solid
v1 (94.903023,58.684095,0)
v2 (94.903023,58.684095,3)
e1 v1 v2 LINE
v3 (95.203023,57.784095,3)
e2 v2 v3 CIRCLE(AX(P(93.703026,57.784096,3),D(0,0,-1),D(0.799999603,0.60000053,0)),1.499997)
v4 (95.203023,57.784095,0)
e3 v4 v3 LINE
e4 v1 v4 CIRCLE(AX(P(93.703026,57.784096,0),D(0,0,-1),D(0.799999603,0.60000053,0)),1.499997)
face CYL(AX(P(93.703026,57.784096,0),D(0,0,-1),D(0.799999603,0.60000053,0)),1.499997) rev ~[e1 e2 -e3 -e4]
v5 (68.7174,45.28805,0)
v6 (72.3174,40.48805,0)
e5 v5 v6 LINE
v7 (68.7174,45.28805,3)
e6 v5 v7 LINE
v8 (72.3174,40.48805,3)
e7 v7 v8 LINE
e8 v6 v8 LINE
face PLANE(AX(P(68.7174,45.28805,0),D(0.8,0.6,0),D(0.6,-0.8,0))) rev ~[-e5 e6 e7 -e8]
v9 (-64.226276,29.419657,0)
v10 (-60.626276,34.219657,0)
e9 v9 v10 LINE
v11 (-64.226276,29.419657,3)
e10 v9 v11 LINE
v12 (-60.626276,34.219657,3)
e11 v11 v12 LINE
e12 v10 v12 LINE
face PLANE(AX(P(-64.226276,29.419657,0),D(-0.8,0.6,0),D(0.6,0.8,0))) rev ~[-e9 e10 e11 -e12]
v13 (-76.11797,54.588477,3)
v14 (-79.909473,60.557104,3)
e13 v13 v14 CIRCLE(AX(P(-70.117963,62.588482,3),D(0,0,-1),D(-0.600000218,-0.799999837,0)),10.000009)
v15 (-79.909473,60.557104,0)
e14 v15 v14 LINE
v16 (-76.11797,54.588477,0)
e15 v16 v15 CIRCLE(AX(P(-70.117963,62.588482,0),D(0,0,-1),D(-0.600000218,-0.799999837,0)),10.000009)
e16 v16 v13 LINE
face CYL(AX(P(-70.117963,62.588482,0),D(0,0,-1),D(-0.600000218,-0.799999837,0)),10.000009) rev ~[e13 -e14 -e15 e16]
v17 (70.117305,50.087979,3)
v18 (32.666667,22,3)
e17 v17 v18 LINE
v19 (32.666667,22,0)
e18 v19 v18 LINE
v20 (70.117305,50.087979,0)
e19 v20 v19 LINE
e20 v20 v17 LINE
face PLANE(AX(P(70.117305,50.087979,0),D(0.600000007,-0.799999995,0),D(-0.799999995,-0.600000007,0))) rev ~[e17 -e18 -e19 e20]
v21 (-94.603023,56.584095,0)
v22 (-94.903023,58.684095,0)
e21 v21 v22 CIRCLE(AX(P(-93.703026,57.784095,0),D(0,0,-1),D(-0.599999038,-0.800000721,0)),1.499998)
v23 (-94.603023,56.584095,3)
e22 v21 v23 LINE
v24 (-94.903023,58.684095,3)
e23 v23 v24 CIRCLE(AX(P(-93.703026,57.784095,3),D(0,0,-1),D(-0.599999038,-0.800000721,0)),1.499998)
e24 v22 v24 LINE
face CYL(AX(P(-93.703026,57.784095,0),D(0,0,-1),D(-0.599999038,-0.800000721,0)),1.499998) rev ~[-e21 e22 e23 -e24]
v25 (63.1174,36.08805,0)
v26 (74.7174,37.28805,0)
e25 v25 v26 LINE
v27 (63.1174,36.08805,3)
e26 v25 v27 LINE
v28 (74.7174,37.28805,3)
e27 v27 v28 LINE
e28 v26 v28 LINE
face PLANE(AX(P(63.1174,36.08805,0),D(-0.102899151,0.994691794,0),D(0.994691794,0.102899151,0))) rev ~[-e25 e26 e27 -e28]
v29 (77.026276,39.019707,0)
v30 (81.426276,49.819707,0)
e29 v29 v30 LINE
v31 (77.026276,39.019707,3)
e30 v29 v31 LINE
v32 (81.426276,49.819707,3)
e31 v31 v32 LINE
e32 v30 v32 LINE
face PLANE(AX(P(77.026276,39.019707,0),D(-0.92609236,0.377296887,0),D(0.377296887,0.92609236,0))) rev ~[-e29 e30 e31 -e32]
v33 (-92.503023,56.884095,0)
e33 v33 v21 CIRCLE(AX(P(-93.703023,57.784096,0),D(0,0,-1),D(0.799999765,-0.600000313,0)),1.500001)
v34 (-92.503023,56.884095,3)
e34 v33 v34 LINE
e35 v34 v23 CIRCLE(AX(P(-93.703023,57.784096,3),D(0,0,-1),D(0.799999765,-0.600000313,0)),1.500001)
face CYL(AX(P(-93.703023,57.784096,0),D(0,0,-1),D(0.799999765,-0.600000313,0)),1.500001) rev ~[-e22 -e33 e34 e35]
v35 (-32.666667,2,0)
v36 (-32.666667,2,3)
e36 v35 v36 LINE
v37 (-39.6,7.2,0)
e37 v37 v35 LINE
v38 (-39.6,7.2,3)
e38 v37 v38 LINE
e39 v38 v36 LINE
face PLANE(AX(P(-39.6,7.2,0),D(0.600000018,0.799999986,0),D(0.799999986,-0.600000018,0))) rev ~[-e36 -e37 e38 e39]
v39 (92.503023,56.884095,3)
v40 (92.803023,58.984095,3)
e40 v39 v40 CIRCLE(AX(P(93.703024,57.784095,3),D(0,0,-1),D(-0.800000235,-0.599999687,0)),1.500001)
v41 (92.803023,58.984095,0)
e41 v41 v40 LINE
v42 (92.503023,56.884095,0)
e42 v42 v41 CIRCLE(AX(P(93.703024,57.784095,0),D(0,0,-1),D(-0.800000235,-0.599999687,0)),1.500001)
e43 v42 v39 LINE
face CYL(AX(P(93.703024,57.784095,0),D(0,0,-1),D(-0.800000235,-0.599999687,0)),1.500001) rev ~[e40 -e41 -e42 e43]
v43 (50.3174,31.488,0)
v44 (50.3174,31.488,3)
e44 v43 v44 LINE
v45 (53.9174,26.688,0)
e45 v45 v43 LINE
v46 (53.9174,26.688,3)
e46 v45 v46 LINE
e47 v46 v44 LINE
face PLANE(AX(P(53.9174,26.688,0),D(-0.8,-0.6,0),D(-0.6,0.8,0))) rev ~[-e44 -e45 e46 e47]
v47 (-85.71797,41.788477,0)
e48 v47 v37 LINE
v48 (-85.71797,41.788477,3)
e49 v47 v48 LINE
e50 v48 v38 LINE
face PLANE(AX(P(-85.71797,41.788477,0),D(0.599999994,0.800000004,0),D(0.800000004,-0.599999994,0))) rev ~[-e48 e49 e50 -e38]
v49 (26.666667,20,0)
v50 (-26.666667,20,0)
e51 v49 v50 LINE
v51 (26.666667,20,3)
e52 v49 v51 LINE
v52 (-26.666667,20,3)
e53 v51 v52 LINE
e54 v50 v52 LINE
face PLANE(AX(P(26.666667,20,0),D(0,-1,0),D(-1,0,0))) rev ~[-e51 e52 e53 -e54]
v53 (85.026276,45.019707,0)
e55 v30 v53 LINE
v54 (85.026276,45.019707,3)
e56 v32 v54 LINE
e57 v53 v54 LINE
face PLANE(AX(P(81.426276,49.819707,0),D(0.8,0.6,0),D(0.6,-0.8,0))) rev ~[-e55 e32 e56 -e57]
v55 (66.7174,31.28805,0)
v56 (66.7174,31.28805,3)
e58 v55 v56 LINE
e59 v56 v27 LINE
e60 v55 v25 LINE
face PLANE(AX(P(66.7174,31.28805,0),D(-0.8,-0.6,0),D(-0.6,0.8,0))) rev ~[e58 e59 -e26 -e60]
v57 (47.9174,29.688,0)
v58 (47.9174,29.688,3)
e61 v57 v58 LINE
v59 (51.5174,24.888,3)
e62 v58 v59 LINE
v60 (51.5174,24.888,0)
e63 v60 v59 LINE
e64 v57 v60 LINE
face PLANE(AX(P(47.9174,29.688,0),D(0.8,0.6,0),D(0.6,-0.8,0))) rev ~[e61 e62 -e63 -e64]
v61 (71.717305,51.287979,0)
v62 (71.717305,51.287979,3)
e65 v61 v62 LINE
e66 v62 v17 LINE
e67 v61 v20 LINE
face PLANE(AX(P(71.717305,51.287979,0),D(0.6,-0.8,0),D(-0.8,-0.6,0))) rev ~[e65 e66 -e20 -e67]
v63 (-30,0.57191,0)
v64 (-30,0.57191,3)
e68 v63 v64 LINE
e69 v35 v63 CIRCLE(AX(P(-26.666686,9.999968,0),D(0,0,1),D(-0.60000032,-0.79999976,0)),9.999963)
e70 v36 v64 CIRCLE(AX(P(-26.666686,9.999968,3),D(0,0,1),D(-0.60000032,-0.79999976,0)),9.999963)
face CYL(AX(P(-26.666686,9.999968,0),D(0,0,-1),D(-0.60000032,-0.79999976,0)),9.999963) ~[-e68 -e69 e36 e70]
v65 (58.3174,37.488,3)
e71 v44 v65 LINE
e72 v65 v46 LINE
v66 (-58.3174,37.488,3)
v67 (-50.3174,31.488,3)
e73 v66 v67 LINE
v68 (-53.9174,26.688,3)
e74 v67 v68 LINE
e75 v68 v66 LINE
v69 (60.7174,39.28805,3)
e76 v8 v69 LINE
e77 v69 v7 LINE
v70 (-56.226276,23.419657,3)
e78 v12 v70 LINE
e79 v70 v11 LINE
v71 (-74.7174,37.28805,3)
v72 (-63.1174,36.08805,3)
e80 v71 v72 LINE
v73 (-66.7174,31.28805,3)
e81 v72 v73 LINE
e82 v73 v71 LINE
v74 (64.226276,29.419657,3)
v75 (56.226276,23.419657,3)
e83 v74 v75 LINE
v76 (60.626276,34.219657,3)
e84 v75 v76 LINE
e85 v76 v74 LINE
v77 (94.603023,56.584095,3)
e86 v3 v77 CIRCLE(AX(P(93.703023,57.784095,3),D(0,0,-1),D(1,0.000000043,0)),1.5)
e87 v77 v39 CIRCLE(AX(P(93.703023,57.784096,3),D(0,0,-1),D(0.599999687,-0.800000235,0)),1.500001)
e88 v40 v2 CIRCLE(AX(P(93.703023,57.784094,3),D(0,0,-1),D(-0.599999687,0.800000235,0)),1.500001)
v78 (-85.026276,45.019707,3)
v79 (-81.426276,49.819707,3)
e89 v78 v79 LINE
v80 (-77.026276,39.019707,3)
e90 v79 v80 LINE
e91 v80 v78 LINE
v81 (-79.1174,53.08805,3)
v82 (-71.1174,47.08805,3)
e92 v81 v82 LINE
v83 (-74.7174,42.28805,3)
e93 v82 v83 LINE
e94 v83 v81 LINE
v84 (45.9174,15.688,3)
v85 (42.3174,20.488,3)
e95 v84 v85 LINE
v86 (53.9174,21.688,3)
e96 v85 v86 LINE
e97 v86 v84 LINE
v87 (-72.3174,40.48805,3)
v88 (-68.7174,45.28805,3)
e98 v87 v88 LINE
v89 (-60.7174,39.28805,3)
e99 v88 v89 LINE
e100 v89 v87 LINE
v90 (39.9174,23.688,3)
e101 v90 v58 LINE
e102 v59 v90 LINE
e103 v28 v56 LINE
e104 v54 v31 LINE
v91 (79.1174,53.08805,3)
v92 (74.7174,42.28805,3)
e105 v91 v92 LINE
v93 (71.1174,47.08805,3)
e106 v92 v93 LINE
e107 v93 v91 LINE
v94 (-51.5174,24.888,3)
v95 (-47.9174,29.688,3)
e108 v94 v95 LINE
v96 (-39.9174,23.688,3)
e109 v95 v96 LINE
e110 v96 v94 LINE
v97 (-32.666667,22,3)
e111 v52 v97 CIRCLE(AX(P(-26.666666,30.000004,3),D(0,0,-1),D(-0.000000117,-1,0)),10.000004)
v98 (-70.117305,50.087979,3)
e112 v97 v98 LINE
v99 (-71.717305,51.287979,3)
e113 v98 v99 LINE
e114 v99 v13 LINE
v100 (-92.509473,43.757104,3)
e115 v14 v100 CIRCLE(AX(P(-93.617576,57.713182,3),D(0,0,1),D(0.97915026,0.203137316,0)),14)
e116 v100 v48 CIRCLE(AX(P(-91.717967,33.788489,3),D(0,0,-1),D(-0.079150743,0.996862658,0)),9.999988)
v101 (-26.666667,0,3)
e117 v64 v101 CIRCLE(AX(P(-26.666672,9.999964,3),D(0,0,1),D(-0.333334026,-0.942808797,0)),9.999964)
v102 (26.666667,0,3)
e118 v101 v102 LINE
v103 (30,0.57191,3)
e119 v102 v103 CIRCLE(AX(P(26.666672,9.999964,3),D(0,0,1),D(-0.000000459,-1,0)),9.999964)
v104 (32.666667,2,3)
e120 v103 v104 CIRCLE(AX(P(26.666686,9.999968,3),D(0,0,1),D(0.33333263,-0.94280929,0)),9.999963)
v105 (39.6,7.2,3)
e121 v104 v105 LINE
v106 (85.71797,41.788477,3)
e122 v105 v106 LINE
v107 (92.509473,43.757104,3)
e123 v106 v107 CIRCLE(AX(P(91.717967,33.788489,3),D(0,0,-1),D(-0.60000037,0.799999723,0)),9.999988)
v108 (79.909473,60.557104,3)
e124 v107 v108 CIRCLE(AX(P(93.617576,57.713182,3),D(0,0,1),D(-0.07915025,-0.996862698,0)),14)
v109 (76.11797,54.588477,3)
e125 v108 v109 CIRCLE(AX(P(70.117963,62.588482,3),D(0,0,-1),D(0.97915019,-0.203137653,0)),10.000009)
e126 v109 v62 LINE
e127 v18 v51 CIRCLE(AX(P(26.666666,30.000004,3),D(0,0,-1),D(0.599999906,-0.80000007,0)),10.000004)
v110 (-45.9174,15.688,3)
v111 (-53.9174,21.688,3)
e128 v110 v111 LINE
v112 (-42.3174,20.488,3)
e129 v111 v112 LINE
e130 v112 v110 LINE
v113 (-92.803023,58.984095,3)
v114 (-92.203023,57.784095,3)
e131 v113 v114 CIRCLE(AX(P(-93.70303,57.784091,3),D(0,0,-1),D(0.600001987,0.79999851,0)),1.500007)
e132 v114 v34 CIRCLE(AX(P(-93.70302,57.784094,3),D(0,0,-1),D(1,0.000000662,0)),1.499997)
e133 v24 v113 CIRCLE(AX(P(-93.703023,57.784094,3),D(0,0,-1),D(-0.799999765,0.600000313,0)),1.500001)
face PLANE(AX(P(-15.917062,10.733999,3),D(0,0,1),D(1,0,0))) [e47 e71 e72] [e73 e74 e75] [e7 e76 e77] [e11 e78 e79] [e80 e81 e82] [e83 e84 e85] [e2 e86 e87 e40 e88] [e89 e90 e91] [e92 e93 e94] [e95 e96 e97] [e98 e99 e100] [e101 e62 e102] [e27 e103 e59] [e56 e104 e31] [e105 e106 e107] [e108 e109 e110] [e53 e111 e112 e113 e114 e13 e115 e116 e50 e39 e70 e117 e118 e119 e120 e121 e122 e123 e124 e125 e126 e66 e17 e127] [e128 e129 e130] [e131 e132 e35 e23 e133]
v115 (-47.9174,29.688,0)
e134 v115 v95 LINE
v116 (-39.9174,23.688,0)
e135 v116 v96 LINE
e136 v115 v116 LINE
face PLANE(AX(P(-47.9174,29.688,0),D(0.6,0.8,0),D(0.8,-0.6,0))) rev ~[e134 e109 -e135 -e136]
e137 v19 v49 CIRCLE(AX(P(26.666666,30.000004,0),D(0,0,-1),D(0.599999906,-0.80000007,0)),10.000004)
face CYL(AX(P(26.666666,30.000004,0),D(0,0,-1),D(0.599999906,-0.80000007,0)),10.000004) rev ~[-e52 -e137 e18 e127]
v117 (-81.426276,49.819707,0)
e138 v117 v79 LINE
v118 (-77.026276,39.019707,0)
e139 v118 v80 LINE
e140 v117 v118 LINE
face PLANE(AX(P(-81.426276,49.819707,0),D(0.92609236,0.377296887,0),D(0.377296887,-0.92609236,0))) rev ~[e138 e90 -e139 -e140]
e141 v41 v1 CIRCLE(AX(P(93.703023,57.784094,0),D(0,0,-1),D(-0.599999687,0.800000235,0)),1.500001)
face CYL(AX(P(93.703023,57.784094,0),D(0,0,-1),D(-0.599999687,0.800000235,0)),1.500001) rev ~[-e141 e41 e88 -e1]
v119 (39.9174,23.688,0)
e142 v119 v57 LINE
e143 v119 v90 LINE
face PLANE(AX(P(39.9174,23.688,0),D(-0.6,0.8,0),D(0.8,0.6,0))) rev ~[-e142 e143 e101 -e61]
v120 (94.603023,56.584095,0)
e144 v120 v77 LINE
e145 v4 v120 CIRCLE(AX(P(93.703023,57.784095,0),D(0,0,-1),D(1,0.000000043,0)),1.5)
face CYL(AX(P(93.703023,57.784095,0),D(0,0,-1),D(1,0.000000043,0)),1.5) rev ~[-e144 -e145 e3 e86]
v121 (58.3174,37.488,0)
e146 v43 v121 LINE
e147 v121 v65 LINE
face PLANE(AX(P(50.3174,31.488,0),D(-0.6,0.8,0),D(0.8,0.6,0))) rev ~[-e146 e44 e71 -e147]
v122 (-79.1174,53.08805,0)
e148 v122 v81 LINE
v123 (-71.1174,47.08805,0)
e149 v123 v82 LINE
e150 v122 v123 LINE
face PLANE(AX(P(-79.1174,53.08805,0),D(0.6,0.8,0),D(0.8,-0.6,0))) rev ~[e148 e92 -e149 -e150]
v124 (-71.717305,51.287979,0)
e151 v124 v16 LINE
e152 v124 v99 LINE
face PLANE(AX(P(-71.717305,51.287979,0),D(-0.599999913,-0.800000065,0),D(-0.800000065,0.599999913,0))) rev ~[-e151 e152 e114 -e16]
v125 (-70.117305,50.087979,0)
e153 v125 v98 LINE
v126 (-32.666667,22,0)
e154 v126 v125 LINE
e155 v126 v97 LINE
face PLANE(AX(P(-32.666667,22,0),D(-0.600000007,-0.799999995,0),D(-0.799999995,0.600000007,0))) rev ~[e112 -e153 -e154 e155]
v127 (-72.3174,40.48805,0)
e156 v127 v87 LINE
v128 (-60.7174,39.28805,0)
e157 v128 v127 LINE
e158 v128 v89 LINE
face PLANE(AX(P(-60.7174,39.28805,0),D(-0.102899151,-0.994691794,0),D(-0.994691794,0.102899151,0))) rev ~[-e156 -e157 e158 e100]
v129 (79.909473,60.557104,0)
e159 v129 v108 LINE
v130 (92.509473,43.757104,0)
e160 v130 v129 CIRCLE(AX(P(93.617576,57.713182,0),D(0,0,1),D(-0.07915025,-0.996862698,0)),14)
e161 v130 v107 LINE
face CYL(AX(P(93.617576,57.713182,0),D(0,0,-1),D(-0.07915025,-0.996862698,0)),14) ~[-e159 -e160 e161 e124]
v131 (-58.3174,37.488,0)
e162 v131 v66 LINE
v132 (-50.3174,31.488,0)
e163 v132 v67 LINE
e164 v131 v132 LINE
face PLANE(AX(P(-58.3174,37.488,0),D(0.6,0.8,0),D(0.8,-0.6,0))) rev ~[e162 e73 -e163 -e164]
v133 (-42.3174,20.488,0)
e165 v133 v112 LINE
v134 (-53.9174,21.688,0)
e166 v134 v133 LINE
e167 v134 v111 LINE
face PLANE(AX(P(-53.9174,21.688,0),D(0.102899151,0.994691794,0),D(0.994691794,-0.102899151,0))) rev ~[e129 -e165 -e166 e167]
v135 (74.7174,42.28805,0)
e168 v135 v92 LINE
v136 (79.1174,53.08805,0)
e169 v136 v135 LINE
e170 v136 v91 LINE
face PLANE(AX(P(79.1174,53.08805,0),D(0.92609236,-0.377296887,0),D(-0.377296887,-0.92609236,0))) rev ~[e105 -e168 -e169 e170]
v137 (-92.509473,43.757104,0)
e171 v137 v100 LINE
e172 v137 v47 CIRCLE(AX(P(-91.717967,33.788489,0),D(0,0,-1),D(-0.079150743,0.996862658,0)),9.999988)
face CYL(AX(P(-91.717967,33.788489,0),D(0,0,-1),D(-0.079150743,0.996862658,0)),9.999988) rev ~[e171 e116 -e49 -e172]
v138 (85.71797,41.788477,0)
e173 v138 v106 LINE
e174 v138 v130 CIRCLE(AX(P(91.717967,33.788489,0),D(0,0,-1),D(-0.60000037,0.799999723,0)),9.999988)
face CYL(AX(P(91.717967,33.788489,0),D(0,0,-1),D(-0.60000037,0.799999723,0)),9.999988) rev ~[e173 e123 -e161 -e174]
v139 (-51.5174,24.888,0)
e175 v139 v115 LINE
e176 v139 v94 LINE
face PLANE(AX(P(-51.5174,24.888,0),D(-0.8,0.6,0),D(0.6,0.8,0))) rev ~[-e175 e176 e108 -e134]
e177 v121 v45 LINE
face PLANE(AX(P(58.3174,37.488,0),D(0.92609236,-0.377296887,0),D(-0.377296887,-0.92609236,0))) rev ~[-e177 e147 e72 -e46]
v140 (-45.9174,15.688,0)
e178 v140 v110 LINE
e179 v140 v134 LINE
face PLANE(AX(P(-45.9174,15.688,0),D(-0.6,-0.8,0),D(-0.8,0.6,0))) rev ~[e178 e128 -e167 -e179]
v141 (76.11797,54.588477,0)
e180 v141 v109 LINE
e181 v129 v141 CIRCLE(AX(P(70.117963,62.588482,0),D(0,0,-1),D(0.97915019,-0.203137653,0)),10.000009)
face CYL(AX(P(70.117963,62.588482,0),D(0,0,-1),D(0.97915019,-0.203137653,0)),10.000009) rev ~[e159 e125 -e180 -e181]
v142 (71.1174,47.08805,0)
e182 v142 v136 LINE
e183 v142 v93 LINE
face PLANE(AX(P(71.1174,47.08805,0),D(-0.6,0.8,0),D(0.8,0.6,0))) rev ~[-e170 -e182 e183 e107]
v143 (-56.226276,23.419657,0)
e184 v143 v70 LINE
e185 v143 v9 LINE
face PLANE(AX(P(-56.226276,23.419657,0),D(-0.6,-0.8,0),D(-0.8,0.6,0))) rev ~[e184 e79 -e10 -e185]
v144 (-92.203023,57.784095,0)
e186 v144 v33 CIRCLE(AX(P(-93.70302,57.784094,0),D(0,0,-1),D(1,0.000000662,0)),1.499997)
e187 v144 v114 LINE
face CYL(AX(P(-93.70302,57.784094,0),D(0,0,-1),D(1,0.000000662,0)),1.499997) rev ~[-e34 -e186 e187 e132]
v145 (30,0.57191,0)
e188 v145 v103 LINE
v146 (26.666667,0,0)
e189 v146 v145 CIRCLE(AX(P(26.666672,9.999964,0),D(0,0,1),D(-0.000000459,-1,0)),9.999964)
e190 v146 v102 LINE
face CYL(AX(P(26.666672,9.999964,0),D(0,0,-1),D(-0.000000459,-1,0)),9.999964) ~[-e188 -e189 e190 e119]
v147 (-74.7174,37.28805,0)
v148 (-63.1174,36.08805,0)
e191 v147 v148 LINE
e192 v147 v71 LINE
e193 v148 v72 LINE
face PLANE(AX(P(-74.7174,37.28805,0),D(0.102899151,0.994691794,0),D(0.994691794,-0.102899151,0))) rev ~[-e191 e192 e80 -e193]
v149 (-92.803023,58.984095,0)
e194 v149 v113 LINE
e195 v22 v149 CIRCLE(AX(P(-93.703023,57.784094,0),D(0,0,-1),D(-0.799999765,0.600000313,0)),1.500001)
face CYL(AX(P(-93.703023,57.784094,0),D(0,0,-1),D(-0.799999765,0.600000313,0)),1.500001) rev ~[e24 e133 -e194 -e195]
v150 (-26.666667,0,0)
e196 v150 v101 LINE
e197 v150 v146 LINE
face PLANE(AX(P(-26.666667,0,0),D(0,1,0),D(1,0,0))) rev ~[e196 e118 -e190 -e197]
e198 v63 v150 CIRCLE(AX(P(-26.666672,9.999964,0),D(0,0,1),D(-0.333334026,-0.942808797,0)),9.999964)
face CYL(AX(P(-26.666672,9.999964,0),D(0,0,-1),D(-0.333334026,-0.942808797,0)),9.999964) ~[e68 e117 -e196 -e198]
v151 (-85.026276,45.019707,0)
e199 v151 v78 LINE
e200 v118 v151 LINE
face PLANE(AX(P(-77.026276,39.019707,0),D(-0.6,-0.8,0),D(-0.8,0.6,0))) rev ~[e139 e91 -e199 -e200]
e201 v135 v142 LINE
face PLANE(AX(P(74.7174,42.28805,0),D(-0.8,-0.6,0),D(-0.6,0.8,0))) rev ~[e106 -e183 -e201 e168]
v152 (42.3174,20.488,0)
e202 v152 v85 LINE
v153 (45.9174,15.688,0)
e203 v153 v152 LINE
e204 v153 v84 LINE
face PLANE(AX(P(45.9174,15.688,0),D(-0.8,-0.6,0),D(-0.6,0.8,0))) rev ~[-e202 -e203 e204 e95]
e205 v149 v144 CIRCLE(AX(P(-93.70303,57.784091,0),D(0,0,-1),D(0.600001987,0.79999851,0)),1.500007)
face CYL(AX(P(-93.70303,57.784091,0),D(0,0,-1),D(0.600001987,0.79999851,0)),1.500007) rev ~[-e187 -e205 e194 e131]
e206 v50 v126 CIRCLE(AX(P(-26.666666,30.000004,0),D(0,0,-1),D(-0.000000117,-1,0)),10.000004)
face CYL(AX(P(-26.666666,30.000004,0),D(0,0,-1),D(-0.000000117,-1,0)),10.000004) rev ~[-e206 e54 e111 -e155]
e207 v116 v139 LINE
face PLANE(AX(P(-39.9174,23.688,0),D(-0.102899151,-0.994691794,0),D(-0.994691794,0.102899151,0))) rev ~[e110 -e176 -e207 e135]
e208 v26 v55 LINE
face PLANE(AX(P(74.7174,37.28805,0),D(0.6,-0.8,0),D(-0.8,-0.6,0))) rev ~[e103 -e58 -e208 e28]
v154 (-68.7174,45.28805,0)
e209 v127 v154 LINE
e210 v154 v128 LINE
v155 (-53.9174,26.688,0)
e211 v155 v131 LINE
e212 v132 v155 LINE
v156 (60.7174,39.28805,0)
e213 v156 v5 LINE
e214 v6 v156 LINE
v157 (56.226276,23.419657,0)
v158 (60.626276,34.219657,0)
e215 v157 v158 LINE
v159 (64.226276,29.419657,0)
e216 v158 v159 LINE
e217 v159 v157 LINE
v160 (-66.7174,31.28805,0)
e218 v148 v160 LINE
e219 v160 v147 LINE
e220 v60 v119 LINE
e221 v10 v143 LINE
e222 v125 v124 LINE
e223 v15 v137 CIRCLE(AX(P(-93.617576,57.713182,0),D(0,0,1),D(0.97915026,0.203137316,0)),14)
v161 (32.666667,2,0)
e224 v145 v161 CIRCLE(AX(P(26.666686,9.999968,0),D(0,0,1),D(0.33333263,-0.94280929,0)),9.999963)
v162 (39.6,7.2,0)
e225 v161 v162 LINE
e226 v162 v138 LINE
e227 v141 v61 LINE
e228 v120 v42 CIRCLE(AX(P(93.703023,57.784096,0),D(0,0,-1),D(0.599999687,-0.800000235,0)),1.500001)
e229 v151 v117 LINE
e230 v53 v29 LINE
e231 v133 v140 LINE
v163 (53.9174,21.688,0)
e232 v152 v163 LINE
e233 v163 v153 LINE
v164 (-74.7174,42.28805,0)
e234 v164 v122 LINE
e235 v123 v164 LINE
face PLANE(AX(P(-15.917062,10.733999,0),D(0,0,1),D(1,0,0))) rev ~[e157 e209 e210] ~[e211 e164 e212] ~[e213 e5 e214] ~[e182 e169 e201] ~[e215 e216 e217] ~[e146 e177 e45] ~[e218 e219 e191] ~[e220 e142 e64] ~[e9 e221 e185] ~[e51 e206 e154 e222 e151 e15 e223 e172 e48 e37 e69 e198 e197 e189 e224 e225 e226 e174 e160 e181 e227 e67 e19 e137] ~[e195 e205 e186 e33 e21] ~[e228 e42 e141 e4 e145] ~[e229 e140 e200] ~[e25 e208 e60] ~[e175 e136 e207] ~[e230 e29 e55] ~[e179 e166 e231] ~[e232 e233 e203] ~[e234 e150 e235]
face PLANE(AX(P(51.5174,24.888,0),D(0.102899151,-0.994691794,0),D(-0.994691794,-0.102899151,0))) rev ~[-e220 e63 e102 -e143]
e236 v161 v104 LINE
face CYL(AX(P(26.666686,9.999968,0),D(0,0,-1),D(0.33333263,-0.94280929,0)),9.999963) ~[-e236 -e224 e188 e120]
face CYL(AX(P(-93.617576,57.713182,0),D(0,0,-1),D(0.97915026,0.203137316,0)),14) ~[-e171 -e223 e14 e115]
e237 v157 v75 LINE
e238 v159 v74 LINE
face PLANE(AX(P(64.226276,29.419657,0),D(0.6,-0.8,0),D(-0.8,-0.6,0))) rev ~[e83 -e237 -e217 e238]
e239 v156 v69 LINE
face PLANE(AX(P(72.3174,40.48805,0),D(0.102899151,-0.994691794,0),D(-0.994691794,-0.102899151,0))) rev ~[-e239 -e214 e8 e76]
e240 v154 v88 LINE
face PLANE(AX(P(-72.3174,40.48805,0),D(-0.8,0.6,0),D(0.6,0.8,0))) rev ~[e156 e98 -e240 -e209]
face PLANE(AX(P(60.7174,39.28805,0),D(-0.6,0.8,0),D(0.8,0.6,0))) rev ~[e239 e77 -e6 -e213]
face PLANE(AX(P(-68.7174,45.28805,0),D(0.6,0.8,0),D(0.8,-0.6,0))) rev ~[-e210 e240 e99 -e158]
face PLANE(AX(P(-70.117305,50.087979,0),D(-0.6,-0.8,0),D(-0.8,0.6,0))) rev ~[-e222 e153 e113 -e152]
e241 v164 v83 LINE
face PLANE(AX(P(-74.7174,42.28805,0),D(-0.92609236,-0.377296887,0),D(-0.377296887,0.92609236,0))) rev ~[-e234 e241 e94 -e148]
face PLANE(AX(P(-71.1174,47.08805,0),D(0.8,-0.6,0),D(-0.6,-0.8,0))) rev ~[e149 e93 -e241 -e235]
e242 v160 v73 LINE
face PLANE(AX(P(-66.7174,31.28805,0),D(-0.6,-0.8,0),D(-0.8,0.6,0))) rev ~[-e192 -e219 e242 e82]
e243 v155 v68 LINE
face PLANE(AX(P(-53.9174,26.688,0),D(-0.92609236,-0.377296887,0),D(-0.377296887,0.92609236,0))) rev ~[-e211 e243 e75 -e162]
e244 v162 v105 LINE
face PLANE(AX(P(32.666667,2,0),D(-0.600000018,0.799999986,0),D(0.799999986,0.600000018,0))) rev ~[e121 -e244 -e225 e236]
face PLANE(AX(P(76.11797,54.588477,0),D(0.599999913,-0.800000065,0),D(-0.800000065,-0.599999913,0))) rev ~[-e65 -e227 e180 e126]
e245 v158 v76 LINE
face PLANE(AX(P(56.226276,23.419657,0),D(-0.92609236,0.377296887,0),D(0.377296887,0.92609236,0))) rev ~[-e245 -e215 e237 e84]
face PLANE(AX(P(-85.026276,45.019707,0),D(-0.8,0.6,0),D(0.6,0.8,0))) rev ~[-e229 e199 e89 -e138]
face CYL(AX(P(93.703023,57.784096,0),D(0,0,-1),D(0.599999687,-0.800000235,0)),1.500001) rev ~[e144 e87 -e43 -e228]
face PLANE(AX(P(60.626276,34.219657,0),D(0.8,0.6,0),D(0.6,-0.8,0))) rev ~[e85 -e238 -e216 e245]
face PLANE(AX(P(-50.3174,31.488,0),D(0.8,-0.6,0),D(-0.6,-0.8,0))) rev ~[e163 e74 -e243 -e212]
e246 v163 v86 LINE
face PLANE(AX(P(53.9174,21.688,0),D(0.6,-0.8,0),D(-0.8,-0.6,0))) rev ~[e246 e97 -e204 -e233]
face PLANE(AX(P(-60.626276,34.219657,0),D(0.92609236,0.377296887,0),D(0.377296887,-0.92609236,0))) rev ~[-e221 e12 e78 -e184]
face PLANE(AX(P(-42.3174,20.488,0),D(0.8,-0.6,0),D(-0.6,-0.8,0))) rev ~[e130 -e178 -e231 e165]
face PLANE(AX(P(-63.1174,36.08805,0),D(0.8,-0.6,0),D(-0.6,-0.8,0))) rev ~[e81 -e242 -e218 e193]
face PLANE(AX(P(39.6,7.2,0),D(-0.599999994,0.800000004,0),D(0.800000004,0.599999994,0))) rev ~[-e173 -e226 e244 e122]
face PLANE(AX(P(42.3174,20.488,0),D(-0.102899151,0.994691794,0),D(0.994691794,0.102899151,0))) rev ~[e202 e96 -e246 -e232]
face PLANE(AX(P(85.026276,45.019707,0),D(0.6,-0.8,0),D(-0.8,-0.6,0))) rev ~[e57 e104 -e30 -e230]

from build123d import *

# Parameters (mm, degrees)
F1_DEPTH = 3


with BuildPart() as f1:
    # F0 (on Top) → F1 (new body)
    with BuildSketch(Plane.XY):
        with BuildLine():
            Line((0, 20), (-26.666667, 20))
            ThreePointArc((-26.666667, 20), (-29.828944, 20.513167), (-32.666667, 22))
            Line((-32.666667, 22), (-30, 20))
            Line((-30, 20), (-30, 0.57191))
            ThreePointArc((-30, 0.57191), (-28.357686, 0.144014), (-26.666667, 0))
            Line((-26.666667, 0), (0, 0))
            Line((0, 0), (0, 10))
            Line((0, 10), (0, 20))
        make_face()
        with BuildLine():
            Line((26.666667, 20), (0, 20))
            Line((0, 20), (0, 10))
            Line((0, 10), (0, 0))
            Line((0, 0), (26.666667, 0))
            ThreePointArc((26.666667, 0), (28.357686, 0.144014), (30, 0.57191))
            Line((30, 0.57191), (30, 20))
            Line((30, 20), (32.666667, 22))
            ThreePointArc((32.666667, 22), (29.828944, 20.513167), (26.666667, 20))
        make_face()
        with BuildLine():
            Line((-30, 20), (-32.666667, 22))
            Line((-32.666667, 22), (-70.117305, 50.087979))
            Line((-70.117305, 50.087979), (-71.717305, 51.287979))
            Line((-71.717305, 51.287979), (-76.11797, 54.588477))
            ThreePointArc((-76.11797, 54.588477), (-78.558883, 57.226483), (-79.909473, 60.557104))
            ThreePointArc((-79.909473, 60.557104), (-104.817576, 66.113182), (-92.509473, 43.757104))
            ThreePointArc((-92.509473, 43.757104), (-88.933911, 43.393113), (-85.71797, 41.788477))
            Line((-85.71797, 41.788477), (-39.6, 7.2))
            Line((-39.6, 7.2), (-32.666667, 2))
            ThreePointArc((-32.666667, 2), (-31.387645, 1.184538), (-30, 0.57191))
            Line((-30, 0.57191), (-30, 20))
        make_face()
        Polygon((-64.226276, 29.419657), (-60.626276, 34.219657), (-56.226276, 23.419657), align=None, mode=Mode.SUBTRACT)
        Polygon((-74.7174, 37.28805), (-63.1174, 36.08805), (-66.7174, 31.28805), align=None, mode=Mode.SUBTRACT)
        Polygon((-50.3174, 31.488), (-53.9174, 26.688), (-58.3174, 37.488), align=None, mode=Mode.SUBTRACT)
        Polygon((-53.9174, 21.688), (-42.3174, 20.488), (-45.9174, 15.688), align=None, mode=Mode.SUBTRACT)
        Polygon((-39.9174, 23.688), (-51.5174, 24.888), (-47.9174, 29.688), align=None, mode=Mode.SUBTRACT)
        Polygon((-77.026276, 39.019707), (-85.026276, 45.019707), (-81.426276, 49.819707), align=None, mode=Mode.SUBTRACT)
        Polygon((-60.7174, 39.28805), (-72.3174, 40.48805), (-68.7174, 45.28805), align=None, mode=Mode.SUBTRACT)
        Polygon((-71.1174, 47.08805), (-74.7174, 42.28805), (-79.1174, 53.08805), align=None, mode=Mode.SUBTRACT)
        with BuildLine():
            ThreePointArc((-92.803023, 58.984095), (-92.361383, 58.454915), (-92.203023, 57.784095))
            ThreePointArc((-92.203023, 57.784095), (-92.279998, 57.309753), (-92.503023, 56.884095))
            ThreePointArc((-92.503023, 56.884095), (-93.490891, 56.299171), (-94.603023, 56.584095))
            ThreePointArc((-94.603023, 56.584095), (-95.187948, 57.571963), (-94.903023, 58.684095))
            ThreePointArc((-94.903023, 58.684095), (-93.915155, 59.269019), (-92.803023, 58.984095))
        make_face(mode=Mode.SUBTRACT)
        with BuildLine():
            Line((70.117305, 50.087979), (32.666667, 22))
            Line((32.666667, 22), (30, 20))
            Line((30, 20), (30, 0.57191))
            ThreePointArc((30, 0.57191), (31.387645, 1.184538), (32.666667, 2))
            Line((32.666667, 2), (39.6, 7.2))
            Line((39.6, 7.2), (85.71797, 41.788477))
            ThreePointArc((85.71797, 41.788477), (88.933911, 43.393113), (92.509473, 43.757104))
            ThreePointArc((92.509473, 43.757104), (104.817576, 66.113182), (79.909473, 60.557104))
            ThreePointArc((79.909473, 60.557104), (78.558883, 57.226483), (76.11797, 54.588477))
            Line((76.11797, 54.588477), (71.717305, 51.287979))
            Line((71.717305, 51.287979), (70.117305, 50.087979))
        make_face()
        Polygon((42.3174, 20.488), (53.9174, 21.688), (45.9174, 15.688), align=None, mode=Mode.SUBTRACT)
        Polygon((47.9174, 29.688), (51.5174, 24.888), (39.9174, 23.688), align=None, mode=Mode.SUBTRACT)
        Polygon((60.626276, 34.219657), (64.226276, 29.419657), (56.226276, 23.419657), align=None, mode=Mode.SUBTRACT)
        Polygon((58.3174, 37.488), (53.9174, 26.688), (50.3174, 31.488), align=None, mode=Mode.SUBTRACT)
        Polygon((74.7174, 37.28805), (66.7174, 31.28805), (63.1174, 36.08805), align=None, mode=Mode.SUBTRACT)
        Polygon((68.7174, 45.28805), (72.3174, 40.48805), (60.7174, 39.28805), align=None, mode=Mode.SUBTRACT)
        Polygon((81.426276, 49.819707), (85.026276, 45.019707), (77.026276, 39.019707), align=None, mode=Mode.SUBTRACT)
        Polygon((79.1174, 53.08805), (74.7174, 42.28805), (71.1174, 47.08805), align=None, mode=Mode.SUBTRACT)
        with BuildLine():
            ThreePointArc((94.903023, 58.684095), (95.126048, 58.258437), (95.203023, 57.784095))
            ThreePointArc((95.203023, 57.784095), (95.044664, 57.113275), (94.603023, 56.584095))
            ThreePointArc((94.603023, 56.584095), (93.490891, 56.299171), (92.503023, 56.884095))
            ThreePointArc((92.503023, 56.884095), (92.218099, 57.996227), (92.803023, 58.984095))
            ThreePointArc((92.803023, 58.984095), (93.915155, 59.269019), (94.903023, 58.684095))
        make_face(mode=Mode.SUBTRACT)
    extrude(amount=F1_DEPTH)


solid = f1.part
